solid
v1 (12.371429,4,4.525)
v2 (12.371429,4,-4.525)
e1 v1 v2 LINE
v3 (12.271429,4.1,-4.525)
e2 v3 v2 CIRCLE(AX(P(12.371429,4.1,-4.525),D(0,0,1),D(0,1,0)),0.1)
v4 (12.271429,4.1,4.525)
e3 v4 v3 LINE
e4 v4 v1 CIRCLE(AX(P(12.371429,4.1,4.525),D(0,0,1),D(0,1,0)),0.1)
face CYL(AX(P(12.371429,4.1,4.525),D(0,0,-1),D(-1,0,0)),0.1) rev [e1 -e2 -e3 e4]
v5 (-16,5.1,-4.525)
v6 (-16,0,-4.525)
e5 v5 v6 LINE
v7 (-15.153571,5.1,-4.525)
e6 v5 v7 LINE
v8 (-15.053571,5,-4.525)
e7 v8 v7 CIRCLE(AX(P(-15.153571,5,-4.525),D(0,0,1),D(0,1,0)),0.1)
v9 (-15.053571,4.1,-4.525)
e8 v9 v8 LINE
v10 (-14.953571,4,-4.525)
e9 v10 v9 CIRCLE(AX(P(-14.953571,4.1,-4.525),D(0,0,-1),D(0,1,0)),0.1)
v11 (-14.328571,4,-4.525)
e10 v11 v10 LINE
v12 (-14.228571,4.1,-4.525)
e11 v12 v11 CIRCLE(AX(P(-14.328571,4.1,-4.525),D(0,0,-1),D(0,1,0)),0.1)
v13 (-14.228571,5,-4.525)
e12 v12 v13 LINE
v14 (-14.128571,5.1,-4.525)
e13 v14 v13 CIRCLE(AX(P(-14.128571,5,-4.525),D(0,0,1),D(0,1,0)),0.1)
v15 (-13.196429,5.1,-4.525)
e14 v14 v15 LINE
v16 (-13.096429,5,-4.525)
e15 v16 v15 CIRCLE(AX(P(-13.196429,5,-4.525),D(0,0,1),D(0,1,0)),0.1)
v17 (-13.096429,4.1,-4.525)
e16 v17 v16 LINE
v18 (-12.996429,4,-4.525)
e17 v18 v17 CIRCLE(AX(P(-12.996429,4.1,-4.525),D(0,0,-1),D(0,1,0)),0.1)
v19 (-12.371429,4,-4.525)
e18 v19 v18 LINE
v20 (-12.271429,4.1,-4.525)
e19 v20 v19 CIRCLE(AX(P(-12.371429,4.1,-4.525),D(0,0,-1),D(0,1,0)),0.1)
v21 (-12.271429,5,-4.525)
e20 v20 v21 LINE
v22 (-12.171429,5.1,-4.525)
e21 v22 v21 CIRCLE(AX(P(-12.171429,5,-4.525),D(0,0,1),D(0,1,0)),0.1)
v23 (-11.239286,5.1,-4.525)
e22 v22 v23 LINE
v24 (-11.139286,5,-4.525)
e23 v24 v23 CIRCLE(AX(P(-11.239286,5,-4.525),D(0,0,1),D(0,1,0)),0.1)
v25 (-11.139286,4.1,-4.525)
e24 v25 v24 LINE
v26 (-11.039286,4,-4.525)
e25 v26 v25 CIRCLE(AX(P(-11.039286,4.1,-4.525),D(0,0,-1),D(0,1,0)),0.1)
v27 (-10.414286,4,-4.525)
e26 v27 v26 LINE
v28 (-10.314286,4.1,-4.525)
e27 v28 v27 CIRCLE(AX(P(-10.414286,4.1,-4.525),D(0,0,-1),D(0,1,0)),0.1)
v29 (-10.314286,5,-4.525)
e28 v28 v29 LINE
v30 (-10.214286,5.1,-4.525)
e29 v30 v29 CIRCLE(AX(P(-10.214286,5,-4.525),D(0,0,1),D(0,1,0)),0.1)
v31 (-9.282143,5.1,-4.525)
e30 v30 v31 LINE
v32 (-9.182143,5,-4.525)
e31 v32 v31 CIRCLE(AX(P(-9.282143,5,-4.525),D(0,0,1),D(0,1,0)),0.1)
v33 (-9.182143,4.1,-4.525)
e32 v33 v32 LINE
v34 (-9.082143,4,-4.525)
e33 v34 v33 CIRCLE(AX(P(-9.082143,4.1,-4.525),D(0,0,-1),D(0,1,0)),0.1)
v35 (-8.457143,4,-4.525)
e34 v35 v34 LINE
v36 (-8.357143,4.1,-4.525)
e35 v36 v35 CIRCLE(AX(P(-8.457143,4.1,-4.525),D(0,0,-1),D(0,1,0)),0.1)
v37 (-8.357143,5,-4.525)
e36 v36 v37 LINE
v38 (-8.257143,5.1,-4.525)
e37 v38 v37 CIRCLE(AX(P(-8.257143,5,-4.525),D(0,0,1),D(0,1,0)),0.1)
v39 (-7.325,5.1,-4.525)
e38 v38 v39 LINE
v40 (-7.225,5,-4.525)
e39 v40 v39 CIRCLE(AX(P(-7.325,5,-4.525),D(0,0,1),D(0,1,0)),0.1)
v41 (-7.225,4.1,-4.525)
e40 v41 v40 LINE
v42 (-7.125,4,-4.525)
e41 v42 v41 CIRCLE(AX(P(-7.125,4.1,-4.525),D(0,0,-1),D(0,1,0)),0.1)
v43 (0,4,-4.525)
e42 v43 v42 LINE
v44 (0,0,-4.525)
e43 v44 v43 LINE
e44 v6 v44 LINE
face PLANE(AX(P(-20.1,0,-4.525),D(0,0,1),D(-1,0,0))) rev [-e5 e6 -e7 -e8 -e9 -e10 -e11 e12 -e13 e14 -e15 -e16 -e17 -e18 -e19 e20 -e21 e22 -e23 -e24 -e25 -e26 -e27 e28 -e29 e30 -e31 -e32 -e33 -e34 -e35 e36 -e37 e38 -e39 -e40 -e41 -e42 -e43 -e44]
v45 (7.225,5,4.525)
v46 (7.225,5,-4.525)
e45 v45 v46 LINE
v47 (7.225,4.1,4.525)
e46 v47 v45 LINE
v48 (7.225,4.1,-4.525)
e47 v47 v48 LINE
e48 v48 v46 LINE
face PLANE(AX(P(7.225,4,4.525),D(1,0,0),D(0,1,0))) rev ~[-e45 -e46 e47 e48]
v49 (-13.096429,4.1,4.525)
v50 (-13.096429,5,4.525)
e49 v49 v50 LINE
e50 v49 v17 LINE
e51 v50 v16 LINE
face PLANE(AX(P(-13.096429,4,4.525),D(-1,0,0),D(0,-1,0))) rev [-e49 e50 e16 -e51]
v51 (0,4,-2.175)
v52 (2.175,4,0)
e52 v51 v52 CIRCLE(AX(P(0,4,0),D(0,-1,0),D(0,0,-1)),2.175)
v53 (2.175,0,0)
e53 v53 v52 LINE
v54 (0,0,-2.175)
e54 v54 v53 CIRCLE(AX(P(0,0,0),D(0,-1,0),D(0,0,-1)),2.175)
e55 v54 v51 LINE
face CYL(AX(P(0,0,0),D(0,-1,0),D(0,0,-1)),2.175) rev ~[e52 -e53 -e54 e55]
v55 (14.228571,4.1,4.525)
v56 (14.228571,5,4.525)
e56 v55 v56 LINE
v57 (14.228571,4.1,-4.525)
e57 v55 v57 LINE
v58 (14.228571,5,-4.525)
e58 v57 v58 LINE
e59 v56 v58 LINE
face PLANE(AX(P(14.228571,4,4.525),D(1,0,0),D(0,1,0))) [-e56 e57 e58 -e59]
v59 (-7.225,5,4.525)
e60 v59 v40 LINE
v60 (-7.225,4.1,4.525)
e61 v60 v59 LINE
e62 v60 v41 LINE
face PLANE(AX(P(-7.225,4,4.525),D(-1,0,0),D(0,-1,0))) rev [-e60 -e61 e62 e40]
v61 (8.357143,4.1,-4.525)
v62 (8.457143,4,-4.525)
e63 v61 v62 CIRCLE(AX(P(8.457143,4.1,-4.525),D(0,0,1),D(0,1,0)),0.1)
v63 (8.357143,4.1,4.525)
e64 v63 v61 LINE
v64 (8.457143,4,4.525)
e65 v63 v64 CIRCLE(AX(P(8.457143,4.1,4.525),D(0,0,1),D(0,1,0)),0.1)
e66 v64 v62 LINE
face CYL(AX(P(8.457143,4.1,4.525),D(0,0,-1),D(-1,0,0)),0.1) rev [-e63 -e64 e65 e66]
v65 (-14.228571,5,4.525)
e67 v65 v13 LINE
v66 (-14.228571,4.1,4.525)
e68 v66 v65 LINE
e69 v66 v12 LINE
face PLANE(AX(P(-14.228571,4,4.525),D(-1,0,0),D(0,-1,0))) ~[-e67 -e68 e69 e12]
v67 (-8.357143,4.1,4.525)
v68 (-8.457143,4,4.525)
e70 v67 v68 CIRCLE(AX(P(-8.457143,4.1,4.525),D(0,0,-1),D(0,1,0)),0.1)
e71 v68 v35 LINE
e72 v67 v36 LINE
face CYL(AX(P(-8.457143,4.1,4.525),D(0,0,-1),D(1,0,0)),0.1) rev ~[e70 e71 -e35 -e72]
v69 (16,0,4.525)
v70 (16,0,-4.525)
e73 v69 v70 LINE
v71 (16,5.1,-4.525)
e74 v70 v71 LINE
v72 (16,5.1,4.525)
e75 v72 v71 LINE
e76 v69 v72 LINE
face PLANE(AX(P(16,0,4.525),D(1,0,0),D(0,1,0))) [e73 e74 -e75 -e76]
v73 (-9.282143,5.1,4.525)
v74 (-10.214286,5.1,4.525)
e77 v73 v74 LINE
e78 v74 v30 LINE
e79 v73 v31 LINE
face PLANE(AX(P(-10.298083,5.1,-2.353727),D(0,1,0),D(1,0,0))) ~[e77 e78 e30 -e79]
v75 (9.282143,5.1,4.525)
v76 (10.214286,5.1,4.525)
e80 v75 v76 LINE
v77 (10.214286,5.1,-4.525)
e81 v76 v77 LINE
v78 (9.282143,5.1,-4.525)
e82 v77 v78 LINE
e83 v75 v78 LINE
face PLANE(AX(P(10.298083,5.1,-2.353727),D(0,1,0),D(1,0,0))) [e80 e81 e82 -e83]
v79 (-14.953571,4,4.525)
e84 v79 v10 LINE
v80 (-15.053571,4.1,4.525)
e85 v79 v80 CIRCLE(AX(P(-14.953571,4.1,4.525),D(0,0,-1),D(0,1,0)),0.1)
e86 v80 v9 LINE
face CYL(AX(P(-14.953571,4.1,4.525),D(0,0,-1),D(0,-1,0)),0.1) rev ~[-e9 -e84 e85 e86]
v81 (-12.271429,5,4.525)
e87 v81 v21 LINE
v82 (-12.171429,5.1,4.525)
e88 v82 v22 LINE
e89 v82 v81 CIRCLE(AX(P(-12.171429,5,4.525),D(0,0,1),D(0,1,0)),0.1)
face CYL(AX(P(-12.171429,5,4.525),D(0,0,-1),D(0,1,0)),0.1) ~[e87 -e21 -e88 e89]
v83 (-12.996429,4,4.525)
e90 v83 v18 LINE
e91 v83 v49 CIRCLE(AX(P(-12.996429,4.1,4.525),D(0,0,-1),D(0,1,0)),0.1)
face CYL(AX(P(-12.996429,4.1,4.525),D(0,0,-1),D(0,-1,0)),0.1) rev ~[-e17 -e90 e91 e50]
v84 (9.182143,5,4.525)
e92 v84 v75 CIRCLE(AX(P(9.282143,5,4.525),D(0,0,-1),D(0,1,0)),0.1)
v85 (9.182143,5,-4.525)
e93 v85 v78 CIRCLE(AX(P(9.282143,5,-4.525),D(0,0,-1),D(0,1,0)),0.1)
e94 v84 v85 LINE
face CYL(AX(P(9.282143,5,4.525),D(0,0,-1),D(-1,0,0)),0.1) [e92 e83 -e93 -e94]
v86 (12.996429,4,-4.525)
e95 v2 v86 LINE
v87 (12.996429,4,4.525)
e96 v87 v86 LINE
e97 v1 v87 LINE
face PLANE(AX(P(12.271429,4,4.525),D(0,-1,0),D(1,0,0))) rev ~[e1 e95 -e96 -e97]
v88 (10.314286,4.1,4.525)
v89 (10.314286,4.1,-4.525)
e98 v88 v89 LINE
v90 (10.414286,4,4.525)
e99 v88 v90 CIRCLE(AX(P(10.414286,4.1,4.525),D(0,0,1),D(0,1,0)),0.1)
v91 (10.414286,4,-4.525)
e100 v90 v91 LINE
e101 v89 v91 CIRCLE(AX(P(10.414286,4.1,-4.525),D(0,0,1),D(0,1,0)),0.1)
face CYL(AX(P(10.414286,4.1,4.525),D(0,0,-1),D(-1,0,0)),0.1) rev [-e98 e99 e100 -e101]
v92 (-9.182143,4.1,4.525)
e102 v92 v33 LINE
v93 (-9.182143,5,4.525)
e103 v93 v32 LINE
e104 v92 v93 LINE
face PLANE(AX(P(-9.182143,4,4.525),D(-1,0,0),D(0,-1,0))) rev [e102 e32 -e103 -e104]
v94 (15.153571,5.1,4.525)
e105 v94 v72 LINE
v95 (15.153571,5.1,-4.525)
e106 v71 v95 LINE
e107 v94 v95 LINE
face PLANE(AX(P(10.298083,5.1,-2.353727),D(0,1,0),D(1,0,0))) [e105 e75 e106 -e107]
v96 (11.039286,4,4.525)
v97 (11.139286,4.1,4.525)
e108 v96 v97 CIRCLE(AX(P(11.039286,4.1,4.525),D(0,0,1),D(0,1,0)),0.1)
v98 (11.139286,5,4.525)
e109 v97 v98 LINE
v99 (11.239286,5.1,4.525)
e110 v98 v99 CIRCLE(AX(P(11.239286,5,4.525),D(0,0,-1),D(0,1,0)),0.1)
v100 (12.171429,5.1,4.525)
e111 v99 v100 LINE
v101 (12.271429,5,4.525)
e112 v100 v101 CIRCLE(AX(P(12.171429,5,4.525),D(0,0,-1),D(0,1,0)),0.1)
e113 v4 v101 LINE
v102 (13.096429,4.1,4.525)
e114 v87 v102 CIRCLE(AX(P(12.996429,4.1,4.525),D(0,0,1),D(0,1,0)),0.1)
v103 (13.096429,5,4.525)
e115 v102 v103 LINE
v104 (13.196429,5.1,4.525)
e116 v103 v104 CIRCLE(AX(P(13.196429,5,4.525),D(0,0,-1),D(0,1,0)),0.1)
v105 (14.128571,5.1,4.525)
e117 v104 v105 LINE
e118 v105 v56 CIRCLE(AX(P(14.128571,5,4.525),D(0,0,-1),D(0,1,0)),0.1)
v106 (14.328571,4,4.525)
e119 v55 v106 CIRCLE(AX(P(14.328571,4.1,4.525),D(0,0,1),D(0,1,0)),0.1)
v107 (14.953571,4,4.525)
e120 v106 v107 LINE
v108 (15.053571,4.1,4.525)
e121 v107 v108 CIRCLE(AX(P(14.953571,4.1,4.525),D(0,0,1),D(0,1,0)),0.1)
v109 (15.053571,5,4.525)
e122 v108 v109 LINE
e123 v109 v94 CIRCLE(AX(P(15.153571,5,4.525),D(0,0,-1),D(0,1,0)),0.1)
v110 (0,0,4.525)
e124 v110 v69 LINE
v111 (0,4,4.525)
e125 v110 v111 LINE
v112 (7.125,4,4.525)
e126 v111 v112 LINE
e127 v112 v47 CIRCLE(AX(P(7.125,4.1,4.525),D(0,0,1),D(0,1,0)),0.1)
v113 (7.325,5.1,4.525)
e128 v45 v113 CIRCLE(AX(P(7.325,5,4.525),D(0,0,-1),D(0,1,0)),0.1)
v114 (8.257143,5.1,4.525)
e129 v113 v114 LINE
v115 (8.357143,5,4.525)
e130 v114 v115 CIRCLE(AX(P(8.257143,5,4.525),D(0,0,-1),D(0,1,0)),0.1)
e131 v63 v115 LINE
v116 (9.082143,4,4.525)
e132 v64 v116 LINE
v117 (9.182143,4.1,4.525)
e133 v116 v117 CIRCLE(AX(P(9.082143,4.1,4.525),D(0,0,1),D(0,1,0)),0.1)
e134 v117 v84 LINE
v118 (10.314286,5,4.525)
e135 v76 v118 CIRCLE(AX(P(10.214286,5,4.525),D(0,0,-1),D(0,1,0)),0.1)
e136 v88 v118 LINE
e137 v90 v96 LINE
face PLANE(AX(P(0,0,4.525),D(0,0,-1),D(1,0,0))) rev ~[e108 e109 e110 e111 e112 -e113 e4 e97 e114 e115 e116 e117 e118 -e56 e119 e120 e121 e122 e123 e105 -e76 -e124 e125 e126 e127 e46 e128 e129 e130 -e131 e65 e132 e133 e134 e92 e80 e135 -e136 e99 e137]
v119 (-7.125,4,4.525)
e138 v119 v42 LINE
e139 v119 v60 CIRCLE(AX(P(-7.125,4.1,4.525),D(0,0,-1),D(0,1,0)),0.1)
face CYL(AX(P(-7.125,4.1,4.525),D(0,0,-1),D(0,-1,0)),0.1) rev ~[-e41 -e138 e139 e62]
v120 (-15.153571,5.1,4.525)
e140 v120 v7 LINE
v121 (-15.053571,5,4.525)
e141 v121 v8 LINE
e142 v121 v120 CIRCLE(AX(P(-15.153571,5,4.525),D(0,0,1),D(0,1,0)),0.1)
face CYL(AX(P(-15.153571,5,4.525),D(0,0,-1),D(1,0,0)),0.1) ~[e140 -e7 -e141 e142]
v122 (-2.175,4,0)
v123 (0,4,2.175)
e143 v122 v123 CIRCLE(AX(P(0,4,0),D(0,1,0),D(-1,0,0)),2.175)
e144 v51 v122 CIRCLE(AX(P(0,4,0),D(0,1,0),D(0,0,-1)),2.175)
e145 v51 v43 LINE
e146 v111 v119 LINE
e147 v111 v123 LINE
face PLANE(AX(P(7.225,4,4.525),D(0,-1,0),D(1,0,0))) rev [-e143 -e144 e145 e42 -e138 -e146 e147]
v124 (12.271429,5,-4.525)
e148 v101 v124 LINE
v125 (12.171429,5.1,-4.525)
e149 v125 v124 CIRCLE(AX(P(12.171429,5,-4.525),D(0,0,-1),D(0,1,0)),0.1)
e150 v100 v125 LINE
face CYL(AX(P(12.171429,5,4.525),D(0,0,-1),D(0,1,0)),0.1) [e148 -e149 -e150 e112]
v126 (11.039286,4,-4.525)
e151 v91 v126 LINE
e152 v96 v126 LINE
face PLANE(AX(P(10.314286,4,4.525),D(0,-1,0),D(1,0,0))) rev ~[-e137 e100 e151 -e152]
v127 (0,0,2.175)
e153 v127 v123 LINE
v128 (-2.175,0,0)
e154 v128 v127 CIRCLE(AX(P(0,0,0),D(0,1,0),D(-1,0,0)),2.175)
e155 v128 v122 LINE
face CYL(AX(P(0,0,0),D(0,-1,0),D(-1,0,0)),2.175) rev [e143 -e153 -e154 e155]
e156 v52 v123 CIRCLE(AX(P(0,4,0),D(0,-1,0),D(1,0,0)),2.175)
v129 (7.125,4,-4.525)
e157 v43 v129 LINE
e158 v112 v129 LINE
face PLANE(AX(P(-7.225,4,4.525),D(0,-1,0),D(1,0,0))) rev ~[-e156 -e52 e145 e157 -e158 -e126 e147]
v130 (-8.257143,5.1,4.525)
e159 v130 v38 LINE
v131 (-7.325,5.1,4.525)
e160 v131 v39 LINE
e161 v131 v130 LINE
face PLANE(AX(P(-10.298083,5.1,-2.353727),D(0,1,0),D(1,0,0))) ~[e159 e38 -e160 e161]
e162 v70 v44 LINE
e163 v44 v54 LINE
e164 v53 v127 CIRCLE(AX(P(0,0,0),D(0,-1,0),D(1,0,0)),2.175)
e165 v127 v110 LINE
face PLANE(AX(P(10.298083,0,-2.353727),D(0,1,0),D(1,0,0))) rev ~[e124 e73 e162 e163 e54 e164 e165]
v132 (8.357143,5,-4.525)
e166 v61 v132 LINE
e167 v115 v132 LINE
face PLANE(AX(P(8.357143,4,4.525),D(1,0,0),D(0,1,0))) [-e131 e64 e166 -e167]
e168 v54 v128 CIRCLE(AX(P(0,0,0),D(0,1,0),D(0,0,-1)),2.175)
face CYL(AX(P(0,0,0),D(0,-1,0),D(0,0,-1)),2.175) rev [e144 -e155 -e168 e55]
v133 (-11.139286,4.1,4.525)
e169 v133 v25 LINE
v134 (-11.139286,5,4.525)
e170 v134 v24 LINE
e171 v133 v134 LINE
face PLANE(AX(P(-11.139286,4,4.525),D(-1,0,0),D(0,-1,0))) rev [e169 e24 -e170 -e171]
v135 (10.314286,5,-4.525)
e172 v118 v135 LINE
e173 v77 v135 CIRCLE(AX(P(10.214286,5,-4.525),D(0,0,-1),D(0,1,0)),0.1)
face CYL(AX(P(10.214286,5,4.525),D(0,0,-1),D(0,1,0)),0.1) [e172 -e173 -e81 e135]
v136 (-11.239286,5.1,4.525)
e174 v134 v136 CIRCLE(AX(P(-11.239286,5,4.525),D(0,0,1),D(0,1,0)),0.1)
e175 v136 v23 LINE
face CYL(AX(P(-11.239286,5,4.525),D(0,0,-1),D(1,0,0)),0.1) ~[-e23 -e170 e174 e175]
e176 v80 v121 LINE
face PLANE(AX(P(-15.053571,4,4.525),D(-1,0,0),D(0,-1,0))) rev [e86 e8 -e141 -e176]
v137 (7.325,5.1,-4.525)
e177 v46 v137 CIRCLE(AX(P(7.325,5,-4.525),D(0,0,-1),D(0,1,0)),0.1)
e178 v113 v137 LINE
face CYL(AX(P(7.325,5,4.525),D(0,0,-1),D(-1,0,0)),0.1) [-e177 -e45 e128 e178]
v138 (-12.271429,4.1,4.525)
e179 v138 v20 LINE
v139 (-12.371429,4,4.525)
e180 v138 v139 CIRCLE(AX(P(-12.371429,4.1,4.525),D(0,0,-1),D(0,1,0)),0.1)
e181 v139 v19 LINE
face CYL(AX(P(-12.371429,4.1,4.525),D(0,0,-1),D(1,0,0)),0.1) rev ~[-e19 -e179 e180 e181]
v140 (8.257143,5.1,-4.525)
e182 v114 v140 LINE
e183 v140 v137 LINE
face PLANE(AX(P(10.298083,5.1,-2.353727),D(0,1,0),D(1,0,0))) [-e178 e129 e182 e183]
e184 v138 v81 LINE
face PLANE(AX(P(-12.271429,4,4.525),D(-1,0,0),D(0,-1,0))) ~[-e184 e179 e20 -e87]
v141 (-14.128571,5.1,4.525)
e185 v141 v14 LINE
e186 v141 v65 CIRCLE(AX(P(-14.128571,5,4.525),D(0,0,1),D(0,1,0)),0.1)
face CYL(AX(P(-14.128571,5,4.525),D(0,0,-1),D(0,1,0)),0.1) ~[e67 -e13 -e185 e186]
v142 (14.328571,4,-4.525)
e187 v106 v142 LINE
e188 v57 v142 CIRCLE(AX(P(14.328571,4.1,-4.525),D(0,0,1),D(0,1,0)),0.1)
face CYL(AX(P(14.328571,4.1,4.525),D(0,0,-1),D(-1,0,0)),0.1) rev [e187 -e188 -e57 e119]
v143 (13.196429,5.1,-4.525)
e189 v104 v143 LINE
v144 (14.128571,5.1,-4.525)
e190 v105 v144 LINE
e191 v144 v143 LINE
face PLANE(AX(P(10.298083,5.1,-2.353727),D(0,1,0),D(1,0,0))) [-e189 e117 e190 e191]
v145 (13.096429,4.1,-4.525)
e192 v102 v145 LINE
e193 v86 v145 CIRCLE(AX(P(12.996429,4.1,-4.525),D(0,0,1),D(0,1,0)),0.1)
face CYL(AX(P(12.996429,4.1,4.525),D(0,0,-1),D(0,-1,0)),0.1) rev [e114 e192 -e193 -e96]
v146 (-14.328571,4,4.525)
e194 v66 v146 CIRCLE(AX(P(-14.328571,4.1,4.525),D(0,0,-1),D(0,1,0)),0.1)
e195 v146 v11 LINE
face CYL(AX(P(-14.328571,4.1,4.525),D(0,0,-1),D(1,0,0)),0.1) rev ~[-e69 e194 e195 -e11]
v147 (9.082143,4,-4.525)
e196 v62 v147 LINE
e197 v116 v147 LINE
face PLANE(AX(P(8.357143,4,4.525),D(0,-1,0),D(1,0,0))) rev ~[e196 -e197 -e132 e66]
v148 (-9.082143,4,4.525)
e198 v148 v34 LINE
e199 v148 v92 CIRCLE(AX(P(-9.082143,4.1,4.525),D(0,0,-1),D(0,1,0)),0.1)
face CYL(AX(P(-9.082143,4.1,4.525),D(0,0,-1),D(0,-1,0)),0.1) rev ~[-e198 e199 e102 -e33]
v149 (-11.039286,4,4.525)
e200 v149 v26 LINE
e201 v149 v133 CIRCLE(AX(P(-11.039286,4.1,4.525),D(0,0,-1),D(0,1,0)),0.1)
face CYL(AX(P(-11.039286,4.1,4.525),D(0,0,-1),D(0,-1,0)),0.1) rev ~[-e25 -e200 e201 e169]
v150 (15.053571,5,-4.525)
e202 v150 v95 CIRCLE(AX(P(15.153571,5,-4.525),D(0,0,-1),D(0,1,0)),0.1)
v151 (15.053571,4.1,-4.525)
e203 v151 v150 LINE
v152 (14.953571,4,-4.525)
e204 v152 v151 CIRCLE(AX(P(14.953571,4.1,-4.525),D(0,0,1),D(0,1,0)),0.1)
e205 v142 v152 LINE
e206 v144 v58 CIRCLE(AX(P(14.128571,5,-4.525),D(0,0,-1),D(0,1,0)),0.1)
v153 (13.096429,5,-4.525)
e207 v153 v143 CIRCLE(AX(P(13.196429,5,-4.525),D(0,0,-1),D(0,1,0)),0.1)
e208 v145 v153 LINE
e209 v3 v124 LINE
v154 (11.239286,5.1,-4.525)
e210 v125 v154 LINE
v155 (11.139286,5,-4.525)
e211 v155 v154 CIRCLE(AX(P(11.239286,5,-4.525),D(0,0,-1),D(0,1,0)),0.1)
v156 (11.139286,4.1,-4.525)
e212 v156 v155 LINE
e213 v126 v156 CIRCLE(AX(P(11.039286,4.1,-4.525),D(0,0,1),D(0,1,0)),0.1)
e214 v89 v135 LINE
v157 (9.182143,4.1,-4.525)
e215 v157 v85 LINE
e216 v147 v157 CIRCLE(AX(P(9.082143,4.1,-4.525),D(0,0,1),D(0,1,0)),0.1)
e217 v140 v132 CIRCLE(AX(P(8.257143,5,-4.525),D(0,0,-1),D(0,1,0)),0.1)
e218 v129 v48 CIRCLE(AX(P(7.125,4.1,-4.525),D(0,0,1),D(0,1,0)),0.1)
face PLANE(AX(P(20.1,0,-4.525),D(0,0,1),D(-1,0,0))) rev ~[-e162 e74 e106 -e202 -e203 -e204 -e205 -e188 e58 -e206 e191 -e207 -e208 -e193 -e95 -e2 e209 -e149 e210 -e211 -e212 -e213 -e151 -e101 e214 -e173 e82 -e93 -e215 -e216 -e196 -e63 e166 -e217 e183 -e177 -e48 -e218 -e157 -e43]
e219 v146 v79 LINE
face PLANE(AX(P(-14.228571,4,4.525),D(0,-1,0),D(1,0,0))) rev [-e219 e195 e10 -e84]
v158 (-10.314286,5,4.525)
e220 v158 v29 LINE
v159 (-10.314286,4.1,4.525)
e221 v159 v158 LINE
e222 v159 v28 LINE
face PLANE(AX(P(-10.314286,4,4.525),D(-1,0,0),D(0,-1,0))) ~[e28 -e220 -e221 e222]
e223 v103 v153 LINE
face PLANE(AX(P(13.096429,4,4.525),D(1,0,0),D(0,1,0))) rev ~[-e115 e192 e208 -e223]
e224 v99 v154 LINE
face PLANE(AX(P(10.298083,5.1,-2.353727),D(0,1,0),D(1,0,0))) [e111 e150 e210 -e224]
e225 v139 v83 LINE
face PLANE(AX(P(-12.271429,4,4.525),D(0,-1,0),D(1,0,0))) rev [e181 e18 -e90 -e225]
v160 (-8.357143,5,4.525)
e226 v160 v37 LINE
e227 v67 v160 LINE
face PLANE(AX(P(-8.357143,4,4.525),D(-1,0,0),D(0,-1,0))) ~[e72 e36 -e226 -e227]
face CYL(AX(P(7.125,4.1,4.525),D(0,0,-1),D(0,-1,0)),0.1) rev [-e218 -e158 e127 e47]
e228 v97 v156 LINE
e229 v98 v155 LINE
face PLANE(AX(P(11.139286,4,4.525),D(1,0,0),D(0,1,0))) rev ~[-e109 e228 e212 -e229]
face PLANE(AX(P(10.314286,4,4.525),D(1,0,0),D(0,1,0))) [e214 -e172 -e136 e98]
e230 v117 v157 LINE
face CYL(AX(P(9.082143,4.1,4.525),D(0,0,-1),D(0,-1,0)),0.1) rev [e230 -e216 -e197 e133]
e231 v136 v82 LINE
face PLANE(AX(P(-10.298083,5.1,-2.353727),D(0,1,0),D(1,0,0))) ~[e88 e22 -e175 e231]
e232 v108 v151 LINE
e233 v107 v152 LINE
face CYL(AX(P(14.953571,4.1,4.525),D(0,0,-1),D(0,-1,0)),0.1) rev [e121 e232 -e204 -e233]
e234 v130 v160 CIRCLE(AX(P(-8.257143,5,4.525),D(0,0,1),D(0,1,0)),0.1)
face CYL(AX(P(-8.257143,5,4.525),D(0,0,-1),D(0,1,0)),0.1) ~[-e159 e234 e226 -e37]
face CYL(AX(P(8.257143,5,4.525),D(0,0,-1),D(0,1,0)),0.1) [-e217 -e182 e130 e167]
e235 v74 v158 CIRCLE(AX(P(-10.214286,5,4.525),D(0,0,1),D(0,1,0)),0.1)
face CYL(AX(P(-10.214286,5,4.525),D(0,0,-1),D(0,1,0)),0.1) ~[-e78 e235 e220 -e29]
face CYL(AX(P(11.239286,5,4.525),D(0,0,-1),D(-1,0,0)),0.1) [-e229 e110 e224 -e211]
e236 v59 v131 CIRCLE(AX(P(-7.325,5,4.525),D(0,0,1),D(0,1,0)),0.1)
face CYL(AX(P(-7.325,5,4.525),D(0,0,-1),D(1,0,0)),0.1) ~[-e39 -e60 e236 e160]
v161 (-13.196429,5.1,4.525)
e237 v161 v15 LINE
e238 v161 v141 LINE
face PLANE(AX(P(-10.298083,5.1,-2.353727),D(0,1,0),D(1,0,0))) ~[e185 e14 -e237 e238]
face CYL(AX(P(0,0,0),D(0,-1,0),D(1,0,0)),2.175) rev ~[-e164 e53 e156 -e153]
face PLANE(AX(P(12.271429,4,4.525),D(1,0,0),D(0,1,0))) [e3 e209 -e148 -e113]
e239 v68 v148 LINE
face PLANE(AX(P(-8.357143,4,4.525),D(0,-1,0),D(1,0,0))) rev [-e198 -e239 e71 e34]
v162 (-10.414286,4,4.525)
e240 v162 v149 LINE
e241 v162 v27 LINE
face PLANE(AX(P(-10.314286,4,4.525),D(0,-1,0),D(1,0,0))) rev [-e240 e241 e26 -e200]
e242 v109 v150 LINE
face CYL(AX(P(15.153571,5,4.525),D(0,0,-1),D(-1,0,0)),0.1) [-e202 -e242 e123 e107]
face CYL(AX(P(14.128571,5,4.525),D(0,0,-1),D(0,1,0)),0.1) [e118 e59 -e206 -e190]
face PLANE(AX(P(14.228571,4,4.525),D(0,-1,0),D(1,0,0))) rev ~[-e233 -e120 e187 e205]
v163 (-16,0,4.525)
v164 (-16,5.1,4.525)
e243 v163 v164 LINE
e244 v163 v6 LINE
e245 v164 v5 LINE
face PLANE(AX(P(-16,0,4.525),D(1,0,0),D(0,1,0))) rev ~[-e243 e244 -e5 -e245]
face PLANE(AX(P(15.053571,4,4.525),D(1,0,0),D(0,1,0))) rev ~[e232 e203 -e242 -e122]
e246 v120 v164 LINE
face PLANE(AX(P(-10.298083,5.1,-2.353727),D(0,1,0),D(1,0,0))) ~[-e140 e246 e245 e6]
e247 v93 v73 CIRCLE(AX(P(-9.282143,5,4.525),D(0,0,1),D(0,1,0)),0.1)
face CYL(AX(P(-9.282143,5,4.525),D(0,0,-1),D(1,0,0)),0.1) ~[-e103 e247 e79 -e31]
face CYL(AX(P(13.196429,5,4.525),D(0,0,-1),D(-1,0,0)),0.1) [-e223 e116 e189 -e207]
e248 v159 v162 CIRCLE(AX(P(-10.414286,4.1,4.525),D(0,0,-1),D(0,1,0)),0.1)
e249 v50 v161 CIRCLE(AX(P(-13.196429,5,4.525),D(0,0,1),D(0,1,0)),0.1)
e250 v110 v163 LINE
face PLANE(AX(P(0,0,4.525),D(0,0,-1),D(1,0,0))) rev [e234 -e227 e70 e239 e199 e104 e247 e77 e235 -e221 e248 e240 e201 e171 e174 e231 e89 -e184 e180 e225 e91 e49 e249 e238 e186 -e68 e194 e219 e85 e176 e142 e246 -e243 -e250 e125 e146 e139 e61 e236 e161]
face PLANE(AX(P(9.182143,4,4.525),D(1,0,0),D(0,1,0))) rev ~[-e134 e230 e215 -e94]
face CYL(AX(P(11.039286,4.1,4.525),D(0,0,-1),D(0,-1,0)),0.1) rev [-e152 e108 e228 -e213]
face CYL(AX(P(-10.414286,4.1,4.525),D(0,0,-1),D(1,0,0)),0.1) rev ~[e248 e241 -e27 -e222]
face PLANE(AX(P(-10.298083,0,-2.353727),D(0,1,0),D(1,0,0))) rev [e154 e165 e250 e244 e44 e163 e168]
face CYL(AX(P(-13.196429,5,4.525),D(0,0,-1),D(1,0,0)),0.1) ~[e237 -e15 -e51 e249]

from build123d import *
from build123d.topology import SkipClean

# Parameters (mm, degrees)
BOSS_EXTRUDE1_DEPTH = 5.1
SKETCH2_W           = 14.45
SKETCH2_H           = 1.1
CUT_EXTRUDE1_DEPTH  = 23.625704409
SKETCH3_W           = 0.825
SKETCH3_H           = 1.1
CUT_EXTRUDE2_DEPTH  = 10
FILLET1_R           = 0.1
SKETCH4_W           = 4.1
SKETCH4_H           = 5.1
CUT_EXTRUDE3_DEPTH  = 10


with BuildPart() as part:
    # Sketch1 → Boss-Extrude1 (new body)
    with BuildSketch(Plane(origin=(0, 0, 0), x_dir=(1, 0, 0), z_dir=(0, 1, 0))):
        with BuildLine():
            Line((20.1, 4.525), (0, 4.525))
            Line((0, 4.525), (0, 2.175))
            ThreePointArc((0, 2.175), (1.537957249, 1.537957249), (2.175, 0))
            Line((2.175, 0), (20.1, 0))
            Line((20.1, 0), (20.1, 4.525))
        make_face()
        with BuildLine():
            Line((20.1, 0), (2.175, 0))
            ThreePointArc((2.175, 0), (1.537957249, -1.537957249), (0, -2.175))
            Line((0, -2.175), (0, -4.525))
            Line((0, -4.525), (20.1, -4.525))
            Line((20.1, -4.525), (20.1, 0))
        make_face()
    extrude(amount=BOSS_EXTRUDE1_DEPTH)

    # Sketch2 → Cut-Extrude1 (cut, through all)
    with BuildSketch(Plane.XY.offset(4.525)):
        with Locations((0, 4.55)):
            Rectangle(SKETCH2_W, SKETCH2_H)
    extrude(amount=-CUT_EXTRUDE1_DEPTH, mode=Mode.SUBTRACT)

    # Sketch3 → Cut-Extrude2 (cut)
    with BuildSketch(Plane.XY.offset(4.525)):
        with Locations((8.769642857, 4.55)):
            Rectangle(SKETCH3_W, SKETCH3_H)
        with Locations((10.726785714, 4.55)):
            Rectangle(SKETCH3_W, SKETCH3_H)
        with Locations((12.683928571, 4.55)):
            Rectangle(SKETCH3_W, SKETCH3_H)
        with Locations((14.641071429, 4.55)):
            Rectangle(SKETCH3_W, SKETCH3_H)
        with Locations((16.598214286, 4.55)):
            Rectangle(SKETCH3_W, SKETCH3_H)
        with Locations((18.555357143, 4.55)):
            Rectangle(SKETCH3_W, SKETCH3_H)
    extrude(amount=-CUT_EXTRUDE2_DEPTH, mode=Mode.SUBTRACT)

    # Fillet1
    fillet1_edges = [part.edges().sort_by_distance(p)[0] for p in [
        (14.228571429, 4, 0),
        (15.053571429, 4, 0),
        (17.010714286, 5.1, 0),
        (16.185714286, 5.1, 0),
        (16.185714286, 4, 0),
        (17.010714286, 4, 0),
        (18.967857143, 5.1, 0),
        (18.142857143, 5.1, 0),
        (18.142857143, 4, 0),
        (18.967857143, 4, 0),
        (20.1, 5.1, 0),
        (7.225, 4, 0),
        (7.225, 5.1, 0),
        (9.182142857, 5.1, 0),
        (8.357142857, 5.1, 0),
        (8.357142857, 4, 0),
        (9.182142857, 4, 0),
        (11.139285714, 5.1, 0),
        (10.314285714, 5.1, 0),
        (10.314285714, 4, 0),
        (11.139285714, 4, 0),
        (13.096428571, 5.1, 0),
        (12.271428571, 5.1, 0),
        (12.271428571, 4, 0),
        (13.096428571, 4, 0),
        (15.053571429, 5.1, 0),
        (14.228571429, 5.1, 0),
    ]]
    fillet(fillet1_edges, radius=FILLET1_R)

    # Mirror3: part across plane


with BuildPart() as part_1:
    with SkipClean():  # the faces are left unmerged after this step: merging them gives an invalid solid
        add(part.part)
        add(part.part.mirror(Plane(origin=(0, 5.1, 0), x_dir=(0, 0, 1), z_dir=(1, 0, 0))))

    # Sketch4 → Cut-Extrude3 (cut)
    with SkipClean():  # the faces are left unmerged after this step: merging them gives an invalid solid
        with BuildSketch(Plane.XY.offset(4.525)):
            with Locations((18.05, 2.55)):
                Rectangle(SKETCH4_W, SKETCH4_H)
            with Locations((-18.05, 2.55)):
                Rectangle(SKETCH4_W, SKETCH4_H)
        extrude(amount=-CUT_EXTRUDE3_DEPTH, mode=Mode.SUBTRACT)


solid = part_1.part
